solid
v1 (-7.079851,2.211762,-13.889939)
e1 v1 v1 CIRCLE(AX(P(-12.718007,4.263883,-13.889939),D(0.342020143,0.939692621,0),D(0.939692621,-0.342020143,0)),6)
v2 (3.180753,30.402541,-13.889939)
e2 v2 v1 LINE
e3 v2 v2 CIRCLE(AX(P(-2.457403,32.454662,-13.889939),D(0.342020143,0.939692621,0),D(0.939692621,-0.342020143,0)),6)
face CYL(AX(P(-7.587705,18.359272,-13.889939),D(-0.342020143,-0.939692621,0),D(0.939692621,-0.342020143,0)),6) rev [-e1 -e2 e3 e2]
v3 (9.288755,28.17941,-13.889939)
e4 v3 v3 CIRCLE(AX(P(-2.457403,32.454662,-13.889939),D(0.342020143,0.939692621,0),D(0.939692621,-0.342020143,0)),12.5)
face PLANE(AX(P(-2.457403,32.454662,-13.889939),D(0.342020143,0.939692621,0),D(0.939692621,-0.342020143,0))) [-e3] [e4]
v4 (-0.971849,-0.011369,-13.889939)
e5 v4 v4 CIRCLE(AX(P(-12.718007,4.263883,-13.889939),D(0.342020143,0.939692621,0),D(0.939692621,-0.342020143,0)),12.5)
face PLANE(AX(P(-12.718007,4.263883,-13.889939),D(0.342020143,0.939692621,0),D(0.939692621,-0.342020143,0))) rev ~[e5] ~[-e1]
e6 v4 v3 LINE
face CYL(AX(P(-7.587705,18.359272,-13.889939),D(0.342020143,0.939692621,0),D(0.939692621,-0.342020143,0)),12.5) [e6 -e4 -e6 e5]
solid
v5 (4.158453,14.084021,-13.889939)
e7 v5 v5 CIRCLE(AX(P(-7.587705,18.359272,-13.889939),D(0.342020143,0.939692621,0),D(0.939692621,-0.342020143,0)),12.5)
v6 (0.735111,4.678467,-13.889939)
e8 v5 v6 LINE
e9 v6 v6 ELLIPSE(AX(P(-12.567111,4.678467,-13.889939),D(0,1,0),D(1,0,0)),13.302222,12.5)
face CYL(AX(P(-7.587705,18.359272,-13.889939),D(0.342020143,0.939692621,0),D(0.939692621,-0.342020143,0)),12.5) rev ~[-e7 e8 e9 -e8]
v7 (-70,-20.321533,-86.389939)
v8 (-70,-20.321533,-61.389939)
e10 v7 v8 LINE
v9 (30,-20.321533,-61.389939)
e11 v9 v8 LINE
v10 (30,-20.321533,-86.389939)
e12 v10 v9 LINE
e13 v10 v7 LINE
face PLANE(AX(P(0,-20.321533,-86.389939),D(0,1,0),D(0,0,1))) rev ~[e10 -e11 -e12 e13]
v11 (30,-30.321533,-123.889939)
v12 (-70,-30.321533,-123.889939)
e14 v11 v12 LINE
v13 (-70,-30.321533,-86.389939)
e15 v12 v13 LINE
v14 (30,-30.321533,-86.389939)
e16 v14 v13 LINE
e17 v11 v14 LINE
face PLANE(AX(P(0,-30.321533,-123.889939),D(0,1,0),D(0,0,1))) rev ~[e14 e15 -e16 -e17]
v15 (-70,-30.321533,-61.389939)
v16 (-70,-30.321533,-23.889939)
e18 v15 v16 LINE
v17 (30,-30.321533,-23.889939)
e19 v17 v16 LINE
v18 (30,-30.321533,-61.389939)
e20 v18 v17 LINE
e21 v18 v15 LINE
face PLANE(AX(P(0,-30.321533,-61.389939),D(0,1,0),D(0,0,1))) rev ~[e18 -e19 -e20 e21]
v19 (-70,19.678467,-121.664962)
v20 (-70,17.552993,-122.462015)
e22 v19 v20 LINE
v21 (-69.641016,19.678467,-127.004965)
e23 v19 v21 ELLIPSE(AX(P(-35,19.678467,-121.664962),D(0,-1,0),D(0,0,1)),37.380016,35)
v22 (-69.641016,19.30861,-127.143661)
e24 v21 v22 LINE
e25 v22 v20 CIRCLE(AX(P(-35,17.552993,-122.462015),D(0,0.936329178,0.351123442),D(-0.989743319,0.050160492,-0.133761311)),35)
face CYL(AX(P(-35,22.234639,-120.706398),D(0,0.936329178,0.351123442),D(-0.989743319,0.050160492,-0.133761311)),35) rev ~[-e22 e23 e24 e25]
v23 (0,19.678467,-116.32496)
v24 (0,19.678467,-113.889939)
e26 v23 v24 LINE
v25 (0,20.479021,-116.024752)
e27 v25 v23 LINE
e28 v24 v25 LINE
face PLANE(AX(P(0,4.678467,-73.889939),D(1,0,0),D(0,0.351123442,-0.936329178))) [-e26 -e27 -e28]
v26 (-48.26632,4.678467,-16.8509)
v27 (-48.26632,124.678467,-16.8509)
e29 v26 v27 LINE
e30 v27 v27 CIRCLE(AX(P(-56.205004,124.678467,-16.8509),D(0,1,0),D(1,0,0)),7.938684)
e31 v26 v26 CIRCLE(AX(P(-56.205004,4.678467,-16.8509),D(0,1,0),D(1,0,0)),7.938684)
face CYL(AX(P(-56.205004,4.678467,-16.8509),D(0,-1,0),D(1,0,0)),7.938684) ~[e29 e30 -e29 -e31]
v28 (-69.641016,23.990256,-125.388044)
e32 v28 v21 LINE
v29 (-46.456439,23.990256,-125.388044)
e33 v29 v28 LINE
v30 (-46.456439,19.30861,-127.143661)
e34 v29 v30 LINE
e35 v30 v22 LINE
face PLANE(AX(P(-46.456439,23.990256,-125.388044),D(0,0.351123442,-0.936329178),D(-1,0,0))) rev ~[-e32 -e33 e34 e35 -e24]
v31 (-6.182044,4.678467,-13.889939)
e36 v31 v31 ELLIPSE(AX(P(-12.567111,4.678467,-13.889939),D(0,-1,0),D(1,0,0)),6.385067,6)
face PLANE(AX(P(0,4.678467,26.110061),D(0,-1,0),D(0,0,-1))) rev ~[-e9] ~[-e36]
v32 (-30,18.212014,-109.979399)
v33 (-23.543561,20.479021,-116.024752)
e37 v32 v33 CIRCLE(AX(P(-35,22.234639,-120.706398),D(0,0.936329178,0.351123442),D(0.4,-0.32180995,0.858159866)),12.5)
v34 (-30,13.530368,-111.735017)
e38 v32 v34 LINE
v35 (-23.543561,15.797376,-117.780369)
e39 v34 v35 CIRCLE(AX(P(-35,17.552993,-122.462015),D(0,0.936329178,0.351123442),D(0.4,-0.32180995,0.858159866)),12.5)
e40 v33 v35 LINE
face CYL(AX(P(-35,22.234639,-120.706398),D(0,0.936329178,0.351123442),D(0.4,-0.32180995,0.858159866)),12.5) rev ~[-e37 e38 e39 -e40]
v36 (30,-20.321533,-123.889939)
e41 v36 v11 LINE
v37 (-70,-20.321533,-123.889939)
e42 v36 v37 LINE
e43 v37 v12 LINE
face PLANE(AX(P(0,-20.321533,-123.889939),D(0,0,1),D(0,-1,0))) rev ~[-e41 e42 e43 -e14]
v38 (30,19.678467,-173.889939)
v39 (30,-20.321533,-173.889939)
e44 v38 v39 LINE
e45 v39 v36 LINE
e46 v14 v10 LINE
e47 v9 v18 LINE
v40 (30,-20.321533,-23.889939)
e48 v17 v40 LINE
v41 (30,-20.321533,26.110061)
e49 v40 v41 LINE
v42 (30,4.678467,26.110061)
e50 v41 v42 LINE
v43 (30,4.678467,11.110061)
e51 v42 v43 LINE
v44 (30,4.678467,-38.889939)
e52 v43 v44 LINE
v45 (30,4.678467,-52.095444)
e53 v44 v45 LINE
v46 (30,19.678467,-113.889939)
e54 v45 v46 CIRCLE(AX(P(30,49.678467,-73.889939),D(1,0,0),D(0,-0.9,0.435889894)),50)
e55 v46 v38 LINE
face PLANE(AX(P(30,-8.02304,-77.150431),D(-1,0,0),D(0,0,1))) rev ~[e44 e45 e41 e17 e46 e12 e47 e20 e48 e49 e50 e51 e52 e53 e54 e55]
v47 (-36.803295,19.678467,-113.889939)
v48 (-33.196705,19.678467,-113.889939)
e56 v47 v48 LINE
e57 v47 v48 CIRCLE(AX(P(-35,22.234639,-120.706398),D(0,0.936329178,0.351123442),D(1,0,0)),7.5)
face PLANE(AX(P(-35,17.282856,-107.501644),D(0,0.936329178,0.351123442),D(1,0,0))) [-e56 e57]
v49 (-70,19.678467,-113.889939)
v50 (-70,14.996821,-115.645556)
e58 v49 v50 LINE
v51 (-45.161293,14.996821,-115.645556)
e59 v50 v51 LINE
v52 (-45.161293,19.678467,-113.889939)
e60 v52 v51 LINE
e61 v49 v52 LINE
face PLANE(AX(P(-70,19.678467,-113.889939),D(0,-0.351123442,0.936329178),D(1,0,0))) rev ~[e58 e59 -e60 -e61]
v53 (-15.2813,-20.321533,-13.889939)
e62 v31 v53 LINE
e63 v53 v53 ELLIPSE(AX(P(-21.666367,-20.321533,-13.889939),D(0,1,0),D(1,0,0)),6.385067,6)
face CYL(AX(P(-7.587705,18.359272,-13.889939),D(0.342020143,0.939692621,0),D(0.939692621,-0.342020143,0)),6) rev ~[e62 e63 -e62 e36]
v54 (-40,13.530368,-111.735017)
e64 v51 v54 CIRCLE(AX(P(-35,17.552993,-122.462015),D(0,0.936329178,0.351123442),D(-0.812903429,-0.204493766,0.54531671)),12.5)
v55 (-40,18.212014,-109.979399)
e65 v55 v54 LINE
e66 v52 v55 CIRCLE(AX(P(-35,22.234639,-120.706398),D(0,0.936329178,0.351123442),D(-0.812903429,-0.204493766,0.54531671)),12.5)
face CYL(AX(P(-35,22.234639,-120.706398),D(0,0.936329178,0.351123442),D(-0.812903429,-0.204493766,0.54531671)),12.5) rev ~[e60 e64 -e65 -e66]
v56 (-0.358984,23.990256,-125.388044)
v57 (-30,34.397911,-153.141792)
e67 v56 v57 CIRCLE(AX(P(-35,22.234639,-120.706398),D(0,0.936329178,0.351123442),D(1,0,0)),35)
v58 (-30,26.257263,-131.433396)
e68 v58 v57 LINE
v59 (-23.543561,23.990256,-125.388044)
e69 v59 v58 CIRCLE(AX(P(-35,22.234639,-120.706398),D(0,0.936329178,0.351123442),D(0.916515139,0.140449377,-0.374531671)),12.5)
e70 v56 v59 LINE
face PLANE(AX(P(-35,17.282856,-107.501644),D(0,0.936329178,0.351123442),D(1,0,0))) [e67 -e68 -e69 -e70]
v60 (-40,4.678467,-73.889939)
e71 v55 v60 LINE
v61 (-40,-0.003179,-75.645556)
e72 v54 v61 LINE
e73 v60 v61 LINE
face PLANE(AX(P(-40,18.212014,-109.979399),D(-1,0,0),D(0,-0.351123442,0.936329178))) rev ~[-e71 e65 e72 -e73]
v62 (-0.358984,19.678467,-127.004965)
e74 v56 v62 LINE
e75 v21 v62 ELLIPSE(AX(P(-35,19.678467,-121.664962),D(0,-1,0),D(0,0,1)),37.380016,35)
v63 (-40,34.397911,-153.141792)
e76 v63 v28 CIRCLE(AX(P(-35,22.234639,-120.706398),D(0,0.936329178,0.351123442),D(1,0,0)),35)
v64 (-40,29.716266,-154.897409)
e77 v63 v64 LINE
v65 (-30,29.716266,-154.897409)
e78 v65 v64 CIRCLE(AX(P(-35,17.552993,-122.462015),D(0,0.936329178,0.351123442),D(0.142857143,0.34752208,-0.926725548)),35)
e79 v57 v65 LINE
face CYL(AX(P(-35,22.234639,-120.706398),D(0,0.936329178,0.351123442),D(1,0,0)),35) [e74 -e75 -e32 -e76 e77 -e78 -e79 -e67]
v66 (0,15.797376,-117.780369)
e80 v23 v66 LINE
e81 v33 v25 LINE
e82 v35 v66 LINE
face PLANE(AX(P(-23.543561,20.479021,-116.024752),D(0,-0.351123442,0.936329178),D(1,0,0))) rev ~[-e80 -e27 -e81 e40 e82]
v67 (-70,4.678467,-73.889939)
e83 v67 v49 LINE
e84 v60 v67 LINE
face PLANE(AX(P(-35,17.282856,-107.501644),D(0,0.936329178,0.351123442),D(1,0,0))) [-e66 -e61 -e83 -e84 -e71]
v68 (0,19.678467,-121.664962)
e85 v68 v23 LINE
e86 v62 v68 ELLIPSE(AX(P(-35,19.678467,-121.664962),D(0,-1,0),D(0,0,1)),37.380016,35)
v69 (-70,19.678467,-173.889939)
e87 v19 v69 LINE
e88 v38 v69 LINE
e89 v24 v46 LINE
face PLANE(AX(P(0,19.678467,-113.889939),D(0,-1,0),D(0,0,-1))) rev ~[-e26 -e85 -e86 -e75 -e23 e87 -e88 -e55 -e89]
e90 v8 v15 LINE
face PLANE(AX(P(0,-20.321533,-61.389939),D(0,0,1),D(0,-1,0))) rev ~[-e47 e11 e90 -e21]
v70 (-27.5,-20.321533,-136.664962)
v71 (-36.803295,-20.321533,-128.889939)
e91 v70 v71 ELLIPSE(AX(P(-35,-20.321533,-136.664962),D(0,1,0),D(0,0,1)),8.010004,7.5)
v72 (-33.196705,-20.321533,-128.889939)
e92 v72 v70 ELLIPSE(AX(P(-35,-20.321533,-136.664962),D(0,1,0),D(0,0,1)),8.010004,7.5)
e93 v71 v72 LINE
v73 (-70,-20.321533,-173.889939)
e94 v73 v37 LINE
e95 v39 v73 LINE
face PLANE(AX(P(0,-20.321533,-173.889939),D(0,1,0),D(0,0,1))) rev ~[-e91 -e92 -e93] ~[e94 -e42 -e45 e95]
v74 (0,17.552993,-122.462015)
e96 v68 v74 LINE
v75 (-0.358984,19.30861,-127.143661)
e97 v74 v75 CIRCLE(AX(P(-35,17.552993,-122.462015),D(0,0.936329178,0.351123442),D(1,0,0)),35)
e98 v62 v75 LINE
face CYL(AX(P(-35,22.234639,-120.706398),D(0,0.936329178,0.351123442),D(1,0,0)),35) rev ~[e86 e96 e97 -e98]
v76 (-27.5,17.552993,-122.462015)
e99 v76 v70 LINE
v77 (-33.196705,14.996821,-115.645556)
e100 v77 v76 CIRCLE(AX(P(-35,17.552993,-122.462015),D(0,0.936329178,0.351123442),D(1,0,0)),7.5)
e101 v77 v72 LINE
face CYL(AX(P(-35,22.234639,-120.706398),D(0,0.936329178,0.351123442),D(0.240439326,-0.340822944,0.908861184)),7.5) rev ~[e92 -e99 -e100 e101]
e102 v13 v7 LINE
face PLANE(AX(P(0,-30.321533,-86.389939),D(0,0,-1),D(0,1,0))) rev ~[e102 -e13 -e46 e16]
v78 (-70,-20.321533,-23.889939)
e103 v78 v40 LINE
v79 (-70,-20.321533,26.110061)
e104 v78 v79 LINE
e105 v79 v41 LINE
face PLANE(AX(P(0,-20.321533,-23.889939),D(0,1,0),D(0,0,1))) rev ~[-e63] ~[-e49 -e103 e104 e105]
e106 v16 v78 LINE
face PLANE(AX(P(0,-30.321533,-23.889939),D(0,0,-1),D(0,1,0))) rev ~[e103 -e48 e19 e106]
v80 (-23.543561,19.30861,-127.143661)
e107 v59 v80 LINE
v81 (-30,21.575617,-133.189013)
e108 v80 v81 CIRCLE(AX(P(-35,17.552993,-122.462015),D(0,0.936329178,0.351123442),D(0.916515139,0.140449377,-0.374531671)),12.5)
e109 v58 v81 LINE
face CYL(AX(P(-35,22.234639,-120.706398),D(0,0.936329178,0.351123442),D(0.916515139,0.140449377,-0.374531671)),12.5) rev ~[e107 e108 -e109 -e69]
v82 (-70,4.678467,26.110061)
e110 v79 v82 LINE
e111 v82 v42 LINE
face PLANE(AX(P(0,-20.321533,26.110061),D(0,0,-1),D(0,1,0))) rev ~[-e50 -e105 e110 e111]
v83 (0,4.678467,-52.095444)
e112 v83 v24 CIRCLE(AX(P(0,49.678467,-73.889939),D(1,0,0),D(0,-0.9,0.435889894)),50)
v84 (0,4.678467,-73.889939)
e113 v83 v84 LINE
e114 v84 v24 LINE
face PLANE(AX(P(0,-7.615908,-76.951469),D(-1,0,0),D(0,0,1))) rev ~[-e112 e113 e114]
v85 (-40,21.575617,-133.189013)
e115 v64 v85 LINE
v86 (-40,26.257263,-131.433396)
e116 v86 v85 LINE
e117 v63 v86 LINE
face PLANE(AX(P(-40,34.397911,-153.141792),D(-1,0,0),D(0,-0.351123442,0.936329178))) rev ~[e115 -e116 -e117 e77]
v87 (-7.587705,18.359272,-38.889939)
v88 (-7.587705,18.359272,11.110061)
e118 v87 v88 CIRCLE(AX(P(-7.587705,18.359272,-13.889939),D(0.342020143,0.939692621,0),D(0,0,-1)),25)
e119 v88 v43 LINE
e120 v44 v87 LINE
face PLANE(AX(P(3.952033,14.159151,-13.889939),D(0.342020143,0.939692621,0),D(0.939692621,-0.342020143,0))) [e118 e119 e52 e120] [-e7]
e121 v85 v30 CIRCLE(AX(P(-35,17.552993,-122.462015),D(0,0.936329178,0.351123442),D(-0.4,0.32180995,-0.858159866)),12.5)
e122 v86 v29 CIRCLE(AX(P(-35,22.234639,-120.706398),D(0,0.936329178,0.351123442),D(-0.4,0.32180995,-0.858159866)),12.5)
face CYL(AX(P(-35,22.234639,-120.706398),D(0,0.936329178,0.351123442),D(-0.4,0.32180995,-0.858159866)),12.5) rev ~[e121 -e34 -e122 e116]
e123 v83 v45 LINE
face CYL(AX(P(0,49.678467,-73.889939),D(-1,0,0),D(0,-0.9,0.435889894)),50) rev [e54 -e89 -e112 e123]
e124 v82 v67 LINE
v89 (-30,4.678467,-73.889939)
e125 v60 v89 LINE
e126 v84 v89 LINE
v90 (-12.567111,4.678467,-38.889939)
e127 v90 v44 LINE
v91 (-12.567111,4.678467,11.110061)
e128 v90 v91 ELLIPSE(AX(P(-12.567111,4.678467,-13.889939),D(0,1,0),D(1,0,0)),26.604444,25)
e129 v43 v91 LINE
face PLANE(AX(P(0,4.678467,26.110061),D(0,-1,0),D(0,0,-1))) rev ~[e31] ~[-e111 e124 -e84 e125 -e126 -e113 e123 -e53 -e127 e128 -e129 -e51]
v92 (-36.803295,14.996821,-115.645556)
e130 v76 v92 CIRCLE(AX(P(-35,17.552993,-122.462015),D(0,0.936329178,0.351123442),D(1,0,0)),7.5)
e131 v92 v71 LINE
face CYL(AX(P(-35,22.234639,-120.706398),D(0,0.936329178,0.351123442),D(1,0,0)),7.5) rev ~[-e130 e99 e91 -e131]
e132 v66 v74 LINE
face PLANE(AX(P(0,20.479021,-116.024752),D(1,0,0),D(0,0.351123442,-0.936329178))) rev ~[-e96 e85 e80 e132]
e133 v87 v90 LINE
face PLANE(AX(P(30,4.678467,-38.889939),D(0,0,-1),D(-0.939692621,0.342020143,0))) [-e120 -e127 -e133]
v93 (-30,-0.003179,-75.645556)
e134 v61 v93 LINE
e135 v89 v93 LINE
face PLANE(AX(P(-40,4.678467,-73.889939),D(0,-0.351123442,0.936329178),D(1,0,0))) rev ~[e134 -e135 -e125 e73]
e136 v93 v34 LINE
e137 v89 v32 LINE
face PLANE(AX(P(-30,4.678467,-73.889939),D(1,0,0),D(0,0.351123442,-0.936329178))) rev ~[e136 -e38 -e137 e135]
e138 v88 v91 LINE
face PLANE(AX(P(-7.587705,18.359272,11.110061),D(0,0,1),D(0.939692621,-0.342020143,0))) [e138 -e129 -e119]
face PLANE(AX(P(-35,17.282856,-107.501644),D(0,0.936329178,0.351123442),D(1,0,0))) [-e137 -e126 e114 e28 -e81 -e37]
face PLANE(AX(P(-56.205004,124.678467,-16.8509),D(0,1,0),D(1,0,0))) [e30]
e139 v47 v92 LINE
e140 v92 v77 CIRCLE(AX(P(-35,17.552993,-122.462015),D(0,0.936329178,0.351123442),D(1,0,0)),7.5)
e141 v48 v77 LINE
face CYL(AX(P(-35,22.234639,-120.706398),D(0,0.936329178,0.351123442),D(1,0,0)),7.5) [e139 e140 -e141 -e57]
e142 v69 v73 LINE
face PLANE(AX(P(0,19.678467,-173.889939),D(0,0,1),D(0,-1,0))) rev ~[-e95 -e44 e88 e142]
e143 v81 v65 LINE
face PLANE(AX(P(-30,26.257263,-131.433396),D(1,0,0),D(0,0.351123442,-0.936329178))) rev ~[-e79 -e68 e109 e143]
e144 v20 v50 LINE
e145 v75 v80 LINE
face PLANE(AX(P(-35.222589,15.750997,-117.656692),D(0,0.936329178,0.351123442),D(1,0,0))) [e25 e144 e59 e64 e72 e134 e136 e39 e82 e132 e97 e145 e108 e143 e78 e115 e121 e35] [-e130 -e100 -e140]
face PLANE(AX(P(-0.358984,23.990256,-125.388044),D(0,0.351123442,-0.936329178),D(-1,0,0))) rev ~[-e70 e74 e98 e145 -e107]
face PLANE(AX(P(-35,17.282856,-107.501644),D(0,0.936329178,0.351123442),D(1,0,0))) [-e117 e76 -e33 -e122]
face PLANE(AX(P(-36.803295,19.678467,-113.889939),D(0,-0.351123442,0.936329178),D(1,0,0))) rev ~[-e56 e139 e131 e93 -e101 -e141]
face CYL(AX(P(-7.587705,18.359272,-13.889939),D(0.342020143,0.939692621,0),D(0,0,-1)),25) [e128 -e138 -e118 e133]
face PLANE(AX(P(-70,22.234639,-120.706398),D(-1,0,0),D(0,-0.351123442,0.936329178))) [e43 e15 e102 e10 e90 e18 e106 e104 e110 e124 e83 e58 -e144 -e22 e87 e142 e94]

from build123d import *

# Parameters (mm, degrees)
BOSS_EXTRUDE1_DEPTH = 30
BOSS_EXTRUDE2_DEPTH = 70
BOSS_EXTRUDE4_DEPTH = 25
SKETCH3_10_R        = 7.5
CUT_EXTRUDE3_DEPTH  = 5
CUT_EXTRUDE4_DEPTH  = 189.525149763
BOSS_EXTRUDE5_REACH = 196.445
SKETCH10_R          = 12.5
SKETCH10_3_R        = 12.5
SKETCH10_3_R_2      = 6
BOSS_EXTRUDE6_DEPTH = 15
SKETCH10_4_R        = 6
CUT_EXTRUDE5_DEPTH  = 195.445323253
SKETCH11_R          = 7.938683864
BOSS_EXTRUDE7_DEPTH = 120


with BuildPart() as part:
    # Sketch1 → Boss-Extrude1 (new body)
    with BuildSketch(Plane(origin=(0, 0, 0), x_dir=(0, 0, -1), z_dir=(1, 0, 0))):
        with BuildLine():
            Line((173.889938751, 19.67846657), (173.889938751, -20.32153343))
            Line((173.889938751, -20.32153343), (123.889938751, -20.32153343))
            Line((123.889938751, -20.32153343), (123.889938751, -30.32153343))
            Line((123.889938751, -30.32153343), (86.389938751, -30.32153343))
            Line((86.389938751, -30.32153343), (86.389938751, -20.32153343))
            Line((86.389938751, -20.32153343), (61.389938751, -20.32153343))
            Line((61.389938751, -20.32153343), (61.389938751, -30.32153343))
            Line((61.389938751, -30.32153343), (23.889938751, -30.32153343))
            Line((23.889938751, -30.32153343), (23.889938751, -20.32153343))
            Line((23.889938751, -20.32153343), (-26.110061249, -20.32153343))
            Line((-26.110061249, -20.32153343), (-26.110061249, 4.67846657))
            Line((-26.110061249, 4.67846657), (52.095444034, 4.67846657))
            ThreePointArc((52.095444034, 4.67846657), (85.684433469, 1.089477135), (113.889938751, 19.67846657))
            Line((113.889938751, 19.67846657), (173.889938751, 19.67846657))
        make_face()
    extrude(amount=BOSS_EXTRUDE1_DEPTH)

    # Sketch2 → Boss-Extrude2 (add)
    with BuildSketch(Plane.ZY):
        Polygon((26.110061249, 4.67846657), (-73.889938751, 4.67846657), (-113.889938751, 19.67846657), (-173.889938751, 19.67846657), (-173.889938751, -20.32153343), (-123.889938751, -20.32153343), (-123.889938751, -30.32153343), (-86.389938751, -30.32153343), (-86.389938751, -20.32153343), (-61.389938751, -20.32153343), (-61.389938751, -30.32153343), (-23.889938751, -30.32153343), (-23.889938751, -20.32153343), (26.110061249, -20.32153343), align=None)
    extrude(amount=BOSS_EXTRUDE2_DEPTH)

    # Sketch3 → Boss-Extrude4 (add)
    with BuildSketch(Plane(origin=(0, -20.190913281, -7.571592481), x_dir=(1, 0, 0), z_dir=(0, 0.9363291775690461, 0.35112344158838765))):
        with BuildLine():
            Line((-70, 120.828024865), (-70, 70.828024865))
            Line((-70, 70.828024865), (0, 70.828024865))
            Line((0, 70.828024865), (0, 120.828024865))
            ThreePointArc((0, 120.828024865), (-35, 155.828024865), (-70, 120.828024865))
        make_face()
        with BuildLine():
            ThreePointArc((-33.196705055, 113.548043592), (-35, 113.328024865), (-36.803294945, 113.548043592))
            Line((-36.803294945, 113.548043592), (-33.196705055, 113.548043592))
        make_face(mode=Mode.SUBTRACT)
    extrude(amount=-BOSS_EXTRUDE4_DEPTH)

    # Sketch3<10> → Cut-Extrude3 (cut)
    with BuildSketch(Plane(origin=(0, -20.190913281, -7.571592481), x_dir=(1, 0, 0), z_dir=(0, 0.9363291775690461, 0.35112344158838765))):
        with BuildLine():
            Line((-70, 120.828024865), (-70, 113.548043592))
            Line((-70, 113.548043592), (-45.161292864, 113.548043592))
            ThreePointArc((-45.161292864, 113.548043592), (-42.863008369, 111.110869963), (-40, 109.371585628))
            Line((-40, 109.371585628), (-40, 70.828024865))
            Line((-40, 70.828024865), (-30, 70.828024865))
            Line((-30, 70.828024865), (-30, 109.371585628))
            ThreePointArc((-30, 109.371585628), (-26.161165235, 111.9891901), (-23.543560763, 115.828024865))
            Line((-23.543560763, 115.828024865), (0, 115.828024865))
            Line((0, 115.828024865), (0, 120.828024865))
            ThreePointArc((0, 120.828024865), (-0.08986132, 123.334460053), (-0.358983849, 125.828024865))
            Line((-0.358983849, 125.828024865), (-23.543560763, 125.828024865))
            ThreePointArc((-23.543560763, 125.828024865), (-26.161165235, 129.66685963), (-30, 132.284464103))
            Line((-30, 132.284464103), (-30, 155.469041017))
            ThreePointArc((-30, 155.469041017), (-35, 155.828024865), (-40, 155.469041017))
            Line((-40, 155.469041017), (-40, 132.284464103))
            ThreePointArc((-40, 132.284464103), (-43.838834765, 129.66685963), (-46.456439237, 125.828024865))
            Line((-46.456439237, 125.828024865), (-69.641016151, 125.828024865))
            ThreePointArc((-69.641016151, 125.828024865), (-69.91013868, 123.334460053), (-70, 120.828024865))
        make_face()
        with Locations((-35, 120.828024865)):
            Circle(SKETCH3_10_R, mode=Mode.SUBTRACT)
    extrude(amount=-CUT_EXTRUDE3_DEPTH, mode=Mode.SUBTRACT)

    # Sketch3<11> → Cut-Extrude4 (cut, through all)
    with BuildSketch(Plane(origin=(0, -20.190913281, -7.571592481), x_dir=(1, 0, 0), z_dir=(0, 0.9363291775690461, 0.35112344158838765))):
        with BuildLine():
            ThreePointArc((-27.5, 120.828024865), (-39.621974032, 126.734576824), (-36.803294945, 113.548043592))
            Line((-36.803294945, 113.548043592), (-33.196705055, 113.548043592))
            ThreePointArc((-33.196705055, 113.548043592), (-29.093448041, 116.206050833), (-27.5, 120.828024865))
        make_face()
    extrude(amount=-CUT_EXTRUDE4_DEPTH, mode=Mode.SUBTRACT)

    # Boss-Extrude5: up to this face of the body (flat: up to its plane)
    boss_extrude5_end = Plane(part.part.faces().sort_by_distance((-22.448514344, 4.67846657, -21.154405873))[0])
    # Sketch10 → Boss-Extrude5 (add, up to the picked face)
    with BuildSketch(Plane(origin=(5.012963525, 13.77300409, 0), x_dir=(0.9396926207859082, -0.3420201433256694, 0), z_dir=(0.3420201433256694, 0.9396926207859083, 0)), mode=Mode.PRIVATE) as boss_extrude5_sk1:
        with BuildLine():
            Line((-13.409351183, -11.110061249), (26.590648817, -11.110061249))
            Line((26.590648817, -11.110061249), (26.590648817, 38.889938751))
            Line((26.590648817, 38.889938751), (-13.409351183, 38.889938751))
            ThreePointArc((-13.409351183, 38.889938751), (-38.409351183, 13.889938751), (-13.409351183, -11.110061249))
        make_face()
        with Locations((-13.409351183, 13.889938751)):
            Circle(SKETCH10_R, mode=Mode.SUBTRACT)
    boss_extrude5_tool1 = split(extrude(boss_extrude5_sk1.sketch, amount=-BOSS_EXTRUDE5_REACH, mode=Mode.PRIVATE), bisect_by=boss_extrude5_end, keep=Keep.BOTH, mode=Mode.PRIVATE)
    add(boss_extrude5_tool1.solids().sort_by(Axis((-30.309415, 26.629299, -13.889939), (-0.3420201433256694, -0.9396926207859083, 0)))[0])

    # Sketch10<4> → Cut-Extrude5 (cut, through all)
    with BuildSketch(Plane(origin=(5.012963525, 13.77300409, 0), x_dir=(0.9396926207859082, -0.3420201433256694, 0), z_dir=(0.3420201433256694, 0.9396926207859083, 0))):
        with Locations((-13.409351183, 13.889938751)):
            Circle(SKETCH10_4_R)
    extrude(amount=-CUT_EXTRUDE5_DEPTH, mode=Mode.SUBTRACT)

    # Sketch11 → Boss-Extrude7 (add)
    with BuildSketch(Plane(origin=(0, 4.67846657, 0), x_dir=(1, 0, 0), z_dir=(0, 1, 0))):
        with Locations((-56.205003801, 16.850900171)):
            Circle(SKETCH11_R)
    extrude(amount=BOSS_EXTRUDE7_DEPTH)


with BuildPart() as body_2:
    # Sketch10<3> → Boss-Extrude6 (new, symmetric)
    with BuildSketch(Plane(origin=(5.012963525, 13.77300409, 0), x_dir=(0.9396926207859082, -0.3420201433256694, 0), z_dir=(0.3420201433256694, 0.9396926207859083, 0))):
        with Locations((-13.409351183, 13.889938751)):
            Circle(SKETCH10_3_R)
        with Locations((-13.409351183, 13.889938751)):
            Circle(SKETCH10_3_R_2, mode=Mode.SUBTRACT)
    extrude(amount=BOSS_EXTRUDE6_DEPTH, both=True)


solid = Compound([part.part, body_2.part])
